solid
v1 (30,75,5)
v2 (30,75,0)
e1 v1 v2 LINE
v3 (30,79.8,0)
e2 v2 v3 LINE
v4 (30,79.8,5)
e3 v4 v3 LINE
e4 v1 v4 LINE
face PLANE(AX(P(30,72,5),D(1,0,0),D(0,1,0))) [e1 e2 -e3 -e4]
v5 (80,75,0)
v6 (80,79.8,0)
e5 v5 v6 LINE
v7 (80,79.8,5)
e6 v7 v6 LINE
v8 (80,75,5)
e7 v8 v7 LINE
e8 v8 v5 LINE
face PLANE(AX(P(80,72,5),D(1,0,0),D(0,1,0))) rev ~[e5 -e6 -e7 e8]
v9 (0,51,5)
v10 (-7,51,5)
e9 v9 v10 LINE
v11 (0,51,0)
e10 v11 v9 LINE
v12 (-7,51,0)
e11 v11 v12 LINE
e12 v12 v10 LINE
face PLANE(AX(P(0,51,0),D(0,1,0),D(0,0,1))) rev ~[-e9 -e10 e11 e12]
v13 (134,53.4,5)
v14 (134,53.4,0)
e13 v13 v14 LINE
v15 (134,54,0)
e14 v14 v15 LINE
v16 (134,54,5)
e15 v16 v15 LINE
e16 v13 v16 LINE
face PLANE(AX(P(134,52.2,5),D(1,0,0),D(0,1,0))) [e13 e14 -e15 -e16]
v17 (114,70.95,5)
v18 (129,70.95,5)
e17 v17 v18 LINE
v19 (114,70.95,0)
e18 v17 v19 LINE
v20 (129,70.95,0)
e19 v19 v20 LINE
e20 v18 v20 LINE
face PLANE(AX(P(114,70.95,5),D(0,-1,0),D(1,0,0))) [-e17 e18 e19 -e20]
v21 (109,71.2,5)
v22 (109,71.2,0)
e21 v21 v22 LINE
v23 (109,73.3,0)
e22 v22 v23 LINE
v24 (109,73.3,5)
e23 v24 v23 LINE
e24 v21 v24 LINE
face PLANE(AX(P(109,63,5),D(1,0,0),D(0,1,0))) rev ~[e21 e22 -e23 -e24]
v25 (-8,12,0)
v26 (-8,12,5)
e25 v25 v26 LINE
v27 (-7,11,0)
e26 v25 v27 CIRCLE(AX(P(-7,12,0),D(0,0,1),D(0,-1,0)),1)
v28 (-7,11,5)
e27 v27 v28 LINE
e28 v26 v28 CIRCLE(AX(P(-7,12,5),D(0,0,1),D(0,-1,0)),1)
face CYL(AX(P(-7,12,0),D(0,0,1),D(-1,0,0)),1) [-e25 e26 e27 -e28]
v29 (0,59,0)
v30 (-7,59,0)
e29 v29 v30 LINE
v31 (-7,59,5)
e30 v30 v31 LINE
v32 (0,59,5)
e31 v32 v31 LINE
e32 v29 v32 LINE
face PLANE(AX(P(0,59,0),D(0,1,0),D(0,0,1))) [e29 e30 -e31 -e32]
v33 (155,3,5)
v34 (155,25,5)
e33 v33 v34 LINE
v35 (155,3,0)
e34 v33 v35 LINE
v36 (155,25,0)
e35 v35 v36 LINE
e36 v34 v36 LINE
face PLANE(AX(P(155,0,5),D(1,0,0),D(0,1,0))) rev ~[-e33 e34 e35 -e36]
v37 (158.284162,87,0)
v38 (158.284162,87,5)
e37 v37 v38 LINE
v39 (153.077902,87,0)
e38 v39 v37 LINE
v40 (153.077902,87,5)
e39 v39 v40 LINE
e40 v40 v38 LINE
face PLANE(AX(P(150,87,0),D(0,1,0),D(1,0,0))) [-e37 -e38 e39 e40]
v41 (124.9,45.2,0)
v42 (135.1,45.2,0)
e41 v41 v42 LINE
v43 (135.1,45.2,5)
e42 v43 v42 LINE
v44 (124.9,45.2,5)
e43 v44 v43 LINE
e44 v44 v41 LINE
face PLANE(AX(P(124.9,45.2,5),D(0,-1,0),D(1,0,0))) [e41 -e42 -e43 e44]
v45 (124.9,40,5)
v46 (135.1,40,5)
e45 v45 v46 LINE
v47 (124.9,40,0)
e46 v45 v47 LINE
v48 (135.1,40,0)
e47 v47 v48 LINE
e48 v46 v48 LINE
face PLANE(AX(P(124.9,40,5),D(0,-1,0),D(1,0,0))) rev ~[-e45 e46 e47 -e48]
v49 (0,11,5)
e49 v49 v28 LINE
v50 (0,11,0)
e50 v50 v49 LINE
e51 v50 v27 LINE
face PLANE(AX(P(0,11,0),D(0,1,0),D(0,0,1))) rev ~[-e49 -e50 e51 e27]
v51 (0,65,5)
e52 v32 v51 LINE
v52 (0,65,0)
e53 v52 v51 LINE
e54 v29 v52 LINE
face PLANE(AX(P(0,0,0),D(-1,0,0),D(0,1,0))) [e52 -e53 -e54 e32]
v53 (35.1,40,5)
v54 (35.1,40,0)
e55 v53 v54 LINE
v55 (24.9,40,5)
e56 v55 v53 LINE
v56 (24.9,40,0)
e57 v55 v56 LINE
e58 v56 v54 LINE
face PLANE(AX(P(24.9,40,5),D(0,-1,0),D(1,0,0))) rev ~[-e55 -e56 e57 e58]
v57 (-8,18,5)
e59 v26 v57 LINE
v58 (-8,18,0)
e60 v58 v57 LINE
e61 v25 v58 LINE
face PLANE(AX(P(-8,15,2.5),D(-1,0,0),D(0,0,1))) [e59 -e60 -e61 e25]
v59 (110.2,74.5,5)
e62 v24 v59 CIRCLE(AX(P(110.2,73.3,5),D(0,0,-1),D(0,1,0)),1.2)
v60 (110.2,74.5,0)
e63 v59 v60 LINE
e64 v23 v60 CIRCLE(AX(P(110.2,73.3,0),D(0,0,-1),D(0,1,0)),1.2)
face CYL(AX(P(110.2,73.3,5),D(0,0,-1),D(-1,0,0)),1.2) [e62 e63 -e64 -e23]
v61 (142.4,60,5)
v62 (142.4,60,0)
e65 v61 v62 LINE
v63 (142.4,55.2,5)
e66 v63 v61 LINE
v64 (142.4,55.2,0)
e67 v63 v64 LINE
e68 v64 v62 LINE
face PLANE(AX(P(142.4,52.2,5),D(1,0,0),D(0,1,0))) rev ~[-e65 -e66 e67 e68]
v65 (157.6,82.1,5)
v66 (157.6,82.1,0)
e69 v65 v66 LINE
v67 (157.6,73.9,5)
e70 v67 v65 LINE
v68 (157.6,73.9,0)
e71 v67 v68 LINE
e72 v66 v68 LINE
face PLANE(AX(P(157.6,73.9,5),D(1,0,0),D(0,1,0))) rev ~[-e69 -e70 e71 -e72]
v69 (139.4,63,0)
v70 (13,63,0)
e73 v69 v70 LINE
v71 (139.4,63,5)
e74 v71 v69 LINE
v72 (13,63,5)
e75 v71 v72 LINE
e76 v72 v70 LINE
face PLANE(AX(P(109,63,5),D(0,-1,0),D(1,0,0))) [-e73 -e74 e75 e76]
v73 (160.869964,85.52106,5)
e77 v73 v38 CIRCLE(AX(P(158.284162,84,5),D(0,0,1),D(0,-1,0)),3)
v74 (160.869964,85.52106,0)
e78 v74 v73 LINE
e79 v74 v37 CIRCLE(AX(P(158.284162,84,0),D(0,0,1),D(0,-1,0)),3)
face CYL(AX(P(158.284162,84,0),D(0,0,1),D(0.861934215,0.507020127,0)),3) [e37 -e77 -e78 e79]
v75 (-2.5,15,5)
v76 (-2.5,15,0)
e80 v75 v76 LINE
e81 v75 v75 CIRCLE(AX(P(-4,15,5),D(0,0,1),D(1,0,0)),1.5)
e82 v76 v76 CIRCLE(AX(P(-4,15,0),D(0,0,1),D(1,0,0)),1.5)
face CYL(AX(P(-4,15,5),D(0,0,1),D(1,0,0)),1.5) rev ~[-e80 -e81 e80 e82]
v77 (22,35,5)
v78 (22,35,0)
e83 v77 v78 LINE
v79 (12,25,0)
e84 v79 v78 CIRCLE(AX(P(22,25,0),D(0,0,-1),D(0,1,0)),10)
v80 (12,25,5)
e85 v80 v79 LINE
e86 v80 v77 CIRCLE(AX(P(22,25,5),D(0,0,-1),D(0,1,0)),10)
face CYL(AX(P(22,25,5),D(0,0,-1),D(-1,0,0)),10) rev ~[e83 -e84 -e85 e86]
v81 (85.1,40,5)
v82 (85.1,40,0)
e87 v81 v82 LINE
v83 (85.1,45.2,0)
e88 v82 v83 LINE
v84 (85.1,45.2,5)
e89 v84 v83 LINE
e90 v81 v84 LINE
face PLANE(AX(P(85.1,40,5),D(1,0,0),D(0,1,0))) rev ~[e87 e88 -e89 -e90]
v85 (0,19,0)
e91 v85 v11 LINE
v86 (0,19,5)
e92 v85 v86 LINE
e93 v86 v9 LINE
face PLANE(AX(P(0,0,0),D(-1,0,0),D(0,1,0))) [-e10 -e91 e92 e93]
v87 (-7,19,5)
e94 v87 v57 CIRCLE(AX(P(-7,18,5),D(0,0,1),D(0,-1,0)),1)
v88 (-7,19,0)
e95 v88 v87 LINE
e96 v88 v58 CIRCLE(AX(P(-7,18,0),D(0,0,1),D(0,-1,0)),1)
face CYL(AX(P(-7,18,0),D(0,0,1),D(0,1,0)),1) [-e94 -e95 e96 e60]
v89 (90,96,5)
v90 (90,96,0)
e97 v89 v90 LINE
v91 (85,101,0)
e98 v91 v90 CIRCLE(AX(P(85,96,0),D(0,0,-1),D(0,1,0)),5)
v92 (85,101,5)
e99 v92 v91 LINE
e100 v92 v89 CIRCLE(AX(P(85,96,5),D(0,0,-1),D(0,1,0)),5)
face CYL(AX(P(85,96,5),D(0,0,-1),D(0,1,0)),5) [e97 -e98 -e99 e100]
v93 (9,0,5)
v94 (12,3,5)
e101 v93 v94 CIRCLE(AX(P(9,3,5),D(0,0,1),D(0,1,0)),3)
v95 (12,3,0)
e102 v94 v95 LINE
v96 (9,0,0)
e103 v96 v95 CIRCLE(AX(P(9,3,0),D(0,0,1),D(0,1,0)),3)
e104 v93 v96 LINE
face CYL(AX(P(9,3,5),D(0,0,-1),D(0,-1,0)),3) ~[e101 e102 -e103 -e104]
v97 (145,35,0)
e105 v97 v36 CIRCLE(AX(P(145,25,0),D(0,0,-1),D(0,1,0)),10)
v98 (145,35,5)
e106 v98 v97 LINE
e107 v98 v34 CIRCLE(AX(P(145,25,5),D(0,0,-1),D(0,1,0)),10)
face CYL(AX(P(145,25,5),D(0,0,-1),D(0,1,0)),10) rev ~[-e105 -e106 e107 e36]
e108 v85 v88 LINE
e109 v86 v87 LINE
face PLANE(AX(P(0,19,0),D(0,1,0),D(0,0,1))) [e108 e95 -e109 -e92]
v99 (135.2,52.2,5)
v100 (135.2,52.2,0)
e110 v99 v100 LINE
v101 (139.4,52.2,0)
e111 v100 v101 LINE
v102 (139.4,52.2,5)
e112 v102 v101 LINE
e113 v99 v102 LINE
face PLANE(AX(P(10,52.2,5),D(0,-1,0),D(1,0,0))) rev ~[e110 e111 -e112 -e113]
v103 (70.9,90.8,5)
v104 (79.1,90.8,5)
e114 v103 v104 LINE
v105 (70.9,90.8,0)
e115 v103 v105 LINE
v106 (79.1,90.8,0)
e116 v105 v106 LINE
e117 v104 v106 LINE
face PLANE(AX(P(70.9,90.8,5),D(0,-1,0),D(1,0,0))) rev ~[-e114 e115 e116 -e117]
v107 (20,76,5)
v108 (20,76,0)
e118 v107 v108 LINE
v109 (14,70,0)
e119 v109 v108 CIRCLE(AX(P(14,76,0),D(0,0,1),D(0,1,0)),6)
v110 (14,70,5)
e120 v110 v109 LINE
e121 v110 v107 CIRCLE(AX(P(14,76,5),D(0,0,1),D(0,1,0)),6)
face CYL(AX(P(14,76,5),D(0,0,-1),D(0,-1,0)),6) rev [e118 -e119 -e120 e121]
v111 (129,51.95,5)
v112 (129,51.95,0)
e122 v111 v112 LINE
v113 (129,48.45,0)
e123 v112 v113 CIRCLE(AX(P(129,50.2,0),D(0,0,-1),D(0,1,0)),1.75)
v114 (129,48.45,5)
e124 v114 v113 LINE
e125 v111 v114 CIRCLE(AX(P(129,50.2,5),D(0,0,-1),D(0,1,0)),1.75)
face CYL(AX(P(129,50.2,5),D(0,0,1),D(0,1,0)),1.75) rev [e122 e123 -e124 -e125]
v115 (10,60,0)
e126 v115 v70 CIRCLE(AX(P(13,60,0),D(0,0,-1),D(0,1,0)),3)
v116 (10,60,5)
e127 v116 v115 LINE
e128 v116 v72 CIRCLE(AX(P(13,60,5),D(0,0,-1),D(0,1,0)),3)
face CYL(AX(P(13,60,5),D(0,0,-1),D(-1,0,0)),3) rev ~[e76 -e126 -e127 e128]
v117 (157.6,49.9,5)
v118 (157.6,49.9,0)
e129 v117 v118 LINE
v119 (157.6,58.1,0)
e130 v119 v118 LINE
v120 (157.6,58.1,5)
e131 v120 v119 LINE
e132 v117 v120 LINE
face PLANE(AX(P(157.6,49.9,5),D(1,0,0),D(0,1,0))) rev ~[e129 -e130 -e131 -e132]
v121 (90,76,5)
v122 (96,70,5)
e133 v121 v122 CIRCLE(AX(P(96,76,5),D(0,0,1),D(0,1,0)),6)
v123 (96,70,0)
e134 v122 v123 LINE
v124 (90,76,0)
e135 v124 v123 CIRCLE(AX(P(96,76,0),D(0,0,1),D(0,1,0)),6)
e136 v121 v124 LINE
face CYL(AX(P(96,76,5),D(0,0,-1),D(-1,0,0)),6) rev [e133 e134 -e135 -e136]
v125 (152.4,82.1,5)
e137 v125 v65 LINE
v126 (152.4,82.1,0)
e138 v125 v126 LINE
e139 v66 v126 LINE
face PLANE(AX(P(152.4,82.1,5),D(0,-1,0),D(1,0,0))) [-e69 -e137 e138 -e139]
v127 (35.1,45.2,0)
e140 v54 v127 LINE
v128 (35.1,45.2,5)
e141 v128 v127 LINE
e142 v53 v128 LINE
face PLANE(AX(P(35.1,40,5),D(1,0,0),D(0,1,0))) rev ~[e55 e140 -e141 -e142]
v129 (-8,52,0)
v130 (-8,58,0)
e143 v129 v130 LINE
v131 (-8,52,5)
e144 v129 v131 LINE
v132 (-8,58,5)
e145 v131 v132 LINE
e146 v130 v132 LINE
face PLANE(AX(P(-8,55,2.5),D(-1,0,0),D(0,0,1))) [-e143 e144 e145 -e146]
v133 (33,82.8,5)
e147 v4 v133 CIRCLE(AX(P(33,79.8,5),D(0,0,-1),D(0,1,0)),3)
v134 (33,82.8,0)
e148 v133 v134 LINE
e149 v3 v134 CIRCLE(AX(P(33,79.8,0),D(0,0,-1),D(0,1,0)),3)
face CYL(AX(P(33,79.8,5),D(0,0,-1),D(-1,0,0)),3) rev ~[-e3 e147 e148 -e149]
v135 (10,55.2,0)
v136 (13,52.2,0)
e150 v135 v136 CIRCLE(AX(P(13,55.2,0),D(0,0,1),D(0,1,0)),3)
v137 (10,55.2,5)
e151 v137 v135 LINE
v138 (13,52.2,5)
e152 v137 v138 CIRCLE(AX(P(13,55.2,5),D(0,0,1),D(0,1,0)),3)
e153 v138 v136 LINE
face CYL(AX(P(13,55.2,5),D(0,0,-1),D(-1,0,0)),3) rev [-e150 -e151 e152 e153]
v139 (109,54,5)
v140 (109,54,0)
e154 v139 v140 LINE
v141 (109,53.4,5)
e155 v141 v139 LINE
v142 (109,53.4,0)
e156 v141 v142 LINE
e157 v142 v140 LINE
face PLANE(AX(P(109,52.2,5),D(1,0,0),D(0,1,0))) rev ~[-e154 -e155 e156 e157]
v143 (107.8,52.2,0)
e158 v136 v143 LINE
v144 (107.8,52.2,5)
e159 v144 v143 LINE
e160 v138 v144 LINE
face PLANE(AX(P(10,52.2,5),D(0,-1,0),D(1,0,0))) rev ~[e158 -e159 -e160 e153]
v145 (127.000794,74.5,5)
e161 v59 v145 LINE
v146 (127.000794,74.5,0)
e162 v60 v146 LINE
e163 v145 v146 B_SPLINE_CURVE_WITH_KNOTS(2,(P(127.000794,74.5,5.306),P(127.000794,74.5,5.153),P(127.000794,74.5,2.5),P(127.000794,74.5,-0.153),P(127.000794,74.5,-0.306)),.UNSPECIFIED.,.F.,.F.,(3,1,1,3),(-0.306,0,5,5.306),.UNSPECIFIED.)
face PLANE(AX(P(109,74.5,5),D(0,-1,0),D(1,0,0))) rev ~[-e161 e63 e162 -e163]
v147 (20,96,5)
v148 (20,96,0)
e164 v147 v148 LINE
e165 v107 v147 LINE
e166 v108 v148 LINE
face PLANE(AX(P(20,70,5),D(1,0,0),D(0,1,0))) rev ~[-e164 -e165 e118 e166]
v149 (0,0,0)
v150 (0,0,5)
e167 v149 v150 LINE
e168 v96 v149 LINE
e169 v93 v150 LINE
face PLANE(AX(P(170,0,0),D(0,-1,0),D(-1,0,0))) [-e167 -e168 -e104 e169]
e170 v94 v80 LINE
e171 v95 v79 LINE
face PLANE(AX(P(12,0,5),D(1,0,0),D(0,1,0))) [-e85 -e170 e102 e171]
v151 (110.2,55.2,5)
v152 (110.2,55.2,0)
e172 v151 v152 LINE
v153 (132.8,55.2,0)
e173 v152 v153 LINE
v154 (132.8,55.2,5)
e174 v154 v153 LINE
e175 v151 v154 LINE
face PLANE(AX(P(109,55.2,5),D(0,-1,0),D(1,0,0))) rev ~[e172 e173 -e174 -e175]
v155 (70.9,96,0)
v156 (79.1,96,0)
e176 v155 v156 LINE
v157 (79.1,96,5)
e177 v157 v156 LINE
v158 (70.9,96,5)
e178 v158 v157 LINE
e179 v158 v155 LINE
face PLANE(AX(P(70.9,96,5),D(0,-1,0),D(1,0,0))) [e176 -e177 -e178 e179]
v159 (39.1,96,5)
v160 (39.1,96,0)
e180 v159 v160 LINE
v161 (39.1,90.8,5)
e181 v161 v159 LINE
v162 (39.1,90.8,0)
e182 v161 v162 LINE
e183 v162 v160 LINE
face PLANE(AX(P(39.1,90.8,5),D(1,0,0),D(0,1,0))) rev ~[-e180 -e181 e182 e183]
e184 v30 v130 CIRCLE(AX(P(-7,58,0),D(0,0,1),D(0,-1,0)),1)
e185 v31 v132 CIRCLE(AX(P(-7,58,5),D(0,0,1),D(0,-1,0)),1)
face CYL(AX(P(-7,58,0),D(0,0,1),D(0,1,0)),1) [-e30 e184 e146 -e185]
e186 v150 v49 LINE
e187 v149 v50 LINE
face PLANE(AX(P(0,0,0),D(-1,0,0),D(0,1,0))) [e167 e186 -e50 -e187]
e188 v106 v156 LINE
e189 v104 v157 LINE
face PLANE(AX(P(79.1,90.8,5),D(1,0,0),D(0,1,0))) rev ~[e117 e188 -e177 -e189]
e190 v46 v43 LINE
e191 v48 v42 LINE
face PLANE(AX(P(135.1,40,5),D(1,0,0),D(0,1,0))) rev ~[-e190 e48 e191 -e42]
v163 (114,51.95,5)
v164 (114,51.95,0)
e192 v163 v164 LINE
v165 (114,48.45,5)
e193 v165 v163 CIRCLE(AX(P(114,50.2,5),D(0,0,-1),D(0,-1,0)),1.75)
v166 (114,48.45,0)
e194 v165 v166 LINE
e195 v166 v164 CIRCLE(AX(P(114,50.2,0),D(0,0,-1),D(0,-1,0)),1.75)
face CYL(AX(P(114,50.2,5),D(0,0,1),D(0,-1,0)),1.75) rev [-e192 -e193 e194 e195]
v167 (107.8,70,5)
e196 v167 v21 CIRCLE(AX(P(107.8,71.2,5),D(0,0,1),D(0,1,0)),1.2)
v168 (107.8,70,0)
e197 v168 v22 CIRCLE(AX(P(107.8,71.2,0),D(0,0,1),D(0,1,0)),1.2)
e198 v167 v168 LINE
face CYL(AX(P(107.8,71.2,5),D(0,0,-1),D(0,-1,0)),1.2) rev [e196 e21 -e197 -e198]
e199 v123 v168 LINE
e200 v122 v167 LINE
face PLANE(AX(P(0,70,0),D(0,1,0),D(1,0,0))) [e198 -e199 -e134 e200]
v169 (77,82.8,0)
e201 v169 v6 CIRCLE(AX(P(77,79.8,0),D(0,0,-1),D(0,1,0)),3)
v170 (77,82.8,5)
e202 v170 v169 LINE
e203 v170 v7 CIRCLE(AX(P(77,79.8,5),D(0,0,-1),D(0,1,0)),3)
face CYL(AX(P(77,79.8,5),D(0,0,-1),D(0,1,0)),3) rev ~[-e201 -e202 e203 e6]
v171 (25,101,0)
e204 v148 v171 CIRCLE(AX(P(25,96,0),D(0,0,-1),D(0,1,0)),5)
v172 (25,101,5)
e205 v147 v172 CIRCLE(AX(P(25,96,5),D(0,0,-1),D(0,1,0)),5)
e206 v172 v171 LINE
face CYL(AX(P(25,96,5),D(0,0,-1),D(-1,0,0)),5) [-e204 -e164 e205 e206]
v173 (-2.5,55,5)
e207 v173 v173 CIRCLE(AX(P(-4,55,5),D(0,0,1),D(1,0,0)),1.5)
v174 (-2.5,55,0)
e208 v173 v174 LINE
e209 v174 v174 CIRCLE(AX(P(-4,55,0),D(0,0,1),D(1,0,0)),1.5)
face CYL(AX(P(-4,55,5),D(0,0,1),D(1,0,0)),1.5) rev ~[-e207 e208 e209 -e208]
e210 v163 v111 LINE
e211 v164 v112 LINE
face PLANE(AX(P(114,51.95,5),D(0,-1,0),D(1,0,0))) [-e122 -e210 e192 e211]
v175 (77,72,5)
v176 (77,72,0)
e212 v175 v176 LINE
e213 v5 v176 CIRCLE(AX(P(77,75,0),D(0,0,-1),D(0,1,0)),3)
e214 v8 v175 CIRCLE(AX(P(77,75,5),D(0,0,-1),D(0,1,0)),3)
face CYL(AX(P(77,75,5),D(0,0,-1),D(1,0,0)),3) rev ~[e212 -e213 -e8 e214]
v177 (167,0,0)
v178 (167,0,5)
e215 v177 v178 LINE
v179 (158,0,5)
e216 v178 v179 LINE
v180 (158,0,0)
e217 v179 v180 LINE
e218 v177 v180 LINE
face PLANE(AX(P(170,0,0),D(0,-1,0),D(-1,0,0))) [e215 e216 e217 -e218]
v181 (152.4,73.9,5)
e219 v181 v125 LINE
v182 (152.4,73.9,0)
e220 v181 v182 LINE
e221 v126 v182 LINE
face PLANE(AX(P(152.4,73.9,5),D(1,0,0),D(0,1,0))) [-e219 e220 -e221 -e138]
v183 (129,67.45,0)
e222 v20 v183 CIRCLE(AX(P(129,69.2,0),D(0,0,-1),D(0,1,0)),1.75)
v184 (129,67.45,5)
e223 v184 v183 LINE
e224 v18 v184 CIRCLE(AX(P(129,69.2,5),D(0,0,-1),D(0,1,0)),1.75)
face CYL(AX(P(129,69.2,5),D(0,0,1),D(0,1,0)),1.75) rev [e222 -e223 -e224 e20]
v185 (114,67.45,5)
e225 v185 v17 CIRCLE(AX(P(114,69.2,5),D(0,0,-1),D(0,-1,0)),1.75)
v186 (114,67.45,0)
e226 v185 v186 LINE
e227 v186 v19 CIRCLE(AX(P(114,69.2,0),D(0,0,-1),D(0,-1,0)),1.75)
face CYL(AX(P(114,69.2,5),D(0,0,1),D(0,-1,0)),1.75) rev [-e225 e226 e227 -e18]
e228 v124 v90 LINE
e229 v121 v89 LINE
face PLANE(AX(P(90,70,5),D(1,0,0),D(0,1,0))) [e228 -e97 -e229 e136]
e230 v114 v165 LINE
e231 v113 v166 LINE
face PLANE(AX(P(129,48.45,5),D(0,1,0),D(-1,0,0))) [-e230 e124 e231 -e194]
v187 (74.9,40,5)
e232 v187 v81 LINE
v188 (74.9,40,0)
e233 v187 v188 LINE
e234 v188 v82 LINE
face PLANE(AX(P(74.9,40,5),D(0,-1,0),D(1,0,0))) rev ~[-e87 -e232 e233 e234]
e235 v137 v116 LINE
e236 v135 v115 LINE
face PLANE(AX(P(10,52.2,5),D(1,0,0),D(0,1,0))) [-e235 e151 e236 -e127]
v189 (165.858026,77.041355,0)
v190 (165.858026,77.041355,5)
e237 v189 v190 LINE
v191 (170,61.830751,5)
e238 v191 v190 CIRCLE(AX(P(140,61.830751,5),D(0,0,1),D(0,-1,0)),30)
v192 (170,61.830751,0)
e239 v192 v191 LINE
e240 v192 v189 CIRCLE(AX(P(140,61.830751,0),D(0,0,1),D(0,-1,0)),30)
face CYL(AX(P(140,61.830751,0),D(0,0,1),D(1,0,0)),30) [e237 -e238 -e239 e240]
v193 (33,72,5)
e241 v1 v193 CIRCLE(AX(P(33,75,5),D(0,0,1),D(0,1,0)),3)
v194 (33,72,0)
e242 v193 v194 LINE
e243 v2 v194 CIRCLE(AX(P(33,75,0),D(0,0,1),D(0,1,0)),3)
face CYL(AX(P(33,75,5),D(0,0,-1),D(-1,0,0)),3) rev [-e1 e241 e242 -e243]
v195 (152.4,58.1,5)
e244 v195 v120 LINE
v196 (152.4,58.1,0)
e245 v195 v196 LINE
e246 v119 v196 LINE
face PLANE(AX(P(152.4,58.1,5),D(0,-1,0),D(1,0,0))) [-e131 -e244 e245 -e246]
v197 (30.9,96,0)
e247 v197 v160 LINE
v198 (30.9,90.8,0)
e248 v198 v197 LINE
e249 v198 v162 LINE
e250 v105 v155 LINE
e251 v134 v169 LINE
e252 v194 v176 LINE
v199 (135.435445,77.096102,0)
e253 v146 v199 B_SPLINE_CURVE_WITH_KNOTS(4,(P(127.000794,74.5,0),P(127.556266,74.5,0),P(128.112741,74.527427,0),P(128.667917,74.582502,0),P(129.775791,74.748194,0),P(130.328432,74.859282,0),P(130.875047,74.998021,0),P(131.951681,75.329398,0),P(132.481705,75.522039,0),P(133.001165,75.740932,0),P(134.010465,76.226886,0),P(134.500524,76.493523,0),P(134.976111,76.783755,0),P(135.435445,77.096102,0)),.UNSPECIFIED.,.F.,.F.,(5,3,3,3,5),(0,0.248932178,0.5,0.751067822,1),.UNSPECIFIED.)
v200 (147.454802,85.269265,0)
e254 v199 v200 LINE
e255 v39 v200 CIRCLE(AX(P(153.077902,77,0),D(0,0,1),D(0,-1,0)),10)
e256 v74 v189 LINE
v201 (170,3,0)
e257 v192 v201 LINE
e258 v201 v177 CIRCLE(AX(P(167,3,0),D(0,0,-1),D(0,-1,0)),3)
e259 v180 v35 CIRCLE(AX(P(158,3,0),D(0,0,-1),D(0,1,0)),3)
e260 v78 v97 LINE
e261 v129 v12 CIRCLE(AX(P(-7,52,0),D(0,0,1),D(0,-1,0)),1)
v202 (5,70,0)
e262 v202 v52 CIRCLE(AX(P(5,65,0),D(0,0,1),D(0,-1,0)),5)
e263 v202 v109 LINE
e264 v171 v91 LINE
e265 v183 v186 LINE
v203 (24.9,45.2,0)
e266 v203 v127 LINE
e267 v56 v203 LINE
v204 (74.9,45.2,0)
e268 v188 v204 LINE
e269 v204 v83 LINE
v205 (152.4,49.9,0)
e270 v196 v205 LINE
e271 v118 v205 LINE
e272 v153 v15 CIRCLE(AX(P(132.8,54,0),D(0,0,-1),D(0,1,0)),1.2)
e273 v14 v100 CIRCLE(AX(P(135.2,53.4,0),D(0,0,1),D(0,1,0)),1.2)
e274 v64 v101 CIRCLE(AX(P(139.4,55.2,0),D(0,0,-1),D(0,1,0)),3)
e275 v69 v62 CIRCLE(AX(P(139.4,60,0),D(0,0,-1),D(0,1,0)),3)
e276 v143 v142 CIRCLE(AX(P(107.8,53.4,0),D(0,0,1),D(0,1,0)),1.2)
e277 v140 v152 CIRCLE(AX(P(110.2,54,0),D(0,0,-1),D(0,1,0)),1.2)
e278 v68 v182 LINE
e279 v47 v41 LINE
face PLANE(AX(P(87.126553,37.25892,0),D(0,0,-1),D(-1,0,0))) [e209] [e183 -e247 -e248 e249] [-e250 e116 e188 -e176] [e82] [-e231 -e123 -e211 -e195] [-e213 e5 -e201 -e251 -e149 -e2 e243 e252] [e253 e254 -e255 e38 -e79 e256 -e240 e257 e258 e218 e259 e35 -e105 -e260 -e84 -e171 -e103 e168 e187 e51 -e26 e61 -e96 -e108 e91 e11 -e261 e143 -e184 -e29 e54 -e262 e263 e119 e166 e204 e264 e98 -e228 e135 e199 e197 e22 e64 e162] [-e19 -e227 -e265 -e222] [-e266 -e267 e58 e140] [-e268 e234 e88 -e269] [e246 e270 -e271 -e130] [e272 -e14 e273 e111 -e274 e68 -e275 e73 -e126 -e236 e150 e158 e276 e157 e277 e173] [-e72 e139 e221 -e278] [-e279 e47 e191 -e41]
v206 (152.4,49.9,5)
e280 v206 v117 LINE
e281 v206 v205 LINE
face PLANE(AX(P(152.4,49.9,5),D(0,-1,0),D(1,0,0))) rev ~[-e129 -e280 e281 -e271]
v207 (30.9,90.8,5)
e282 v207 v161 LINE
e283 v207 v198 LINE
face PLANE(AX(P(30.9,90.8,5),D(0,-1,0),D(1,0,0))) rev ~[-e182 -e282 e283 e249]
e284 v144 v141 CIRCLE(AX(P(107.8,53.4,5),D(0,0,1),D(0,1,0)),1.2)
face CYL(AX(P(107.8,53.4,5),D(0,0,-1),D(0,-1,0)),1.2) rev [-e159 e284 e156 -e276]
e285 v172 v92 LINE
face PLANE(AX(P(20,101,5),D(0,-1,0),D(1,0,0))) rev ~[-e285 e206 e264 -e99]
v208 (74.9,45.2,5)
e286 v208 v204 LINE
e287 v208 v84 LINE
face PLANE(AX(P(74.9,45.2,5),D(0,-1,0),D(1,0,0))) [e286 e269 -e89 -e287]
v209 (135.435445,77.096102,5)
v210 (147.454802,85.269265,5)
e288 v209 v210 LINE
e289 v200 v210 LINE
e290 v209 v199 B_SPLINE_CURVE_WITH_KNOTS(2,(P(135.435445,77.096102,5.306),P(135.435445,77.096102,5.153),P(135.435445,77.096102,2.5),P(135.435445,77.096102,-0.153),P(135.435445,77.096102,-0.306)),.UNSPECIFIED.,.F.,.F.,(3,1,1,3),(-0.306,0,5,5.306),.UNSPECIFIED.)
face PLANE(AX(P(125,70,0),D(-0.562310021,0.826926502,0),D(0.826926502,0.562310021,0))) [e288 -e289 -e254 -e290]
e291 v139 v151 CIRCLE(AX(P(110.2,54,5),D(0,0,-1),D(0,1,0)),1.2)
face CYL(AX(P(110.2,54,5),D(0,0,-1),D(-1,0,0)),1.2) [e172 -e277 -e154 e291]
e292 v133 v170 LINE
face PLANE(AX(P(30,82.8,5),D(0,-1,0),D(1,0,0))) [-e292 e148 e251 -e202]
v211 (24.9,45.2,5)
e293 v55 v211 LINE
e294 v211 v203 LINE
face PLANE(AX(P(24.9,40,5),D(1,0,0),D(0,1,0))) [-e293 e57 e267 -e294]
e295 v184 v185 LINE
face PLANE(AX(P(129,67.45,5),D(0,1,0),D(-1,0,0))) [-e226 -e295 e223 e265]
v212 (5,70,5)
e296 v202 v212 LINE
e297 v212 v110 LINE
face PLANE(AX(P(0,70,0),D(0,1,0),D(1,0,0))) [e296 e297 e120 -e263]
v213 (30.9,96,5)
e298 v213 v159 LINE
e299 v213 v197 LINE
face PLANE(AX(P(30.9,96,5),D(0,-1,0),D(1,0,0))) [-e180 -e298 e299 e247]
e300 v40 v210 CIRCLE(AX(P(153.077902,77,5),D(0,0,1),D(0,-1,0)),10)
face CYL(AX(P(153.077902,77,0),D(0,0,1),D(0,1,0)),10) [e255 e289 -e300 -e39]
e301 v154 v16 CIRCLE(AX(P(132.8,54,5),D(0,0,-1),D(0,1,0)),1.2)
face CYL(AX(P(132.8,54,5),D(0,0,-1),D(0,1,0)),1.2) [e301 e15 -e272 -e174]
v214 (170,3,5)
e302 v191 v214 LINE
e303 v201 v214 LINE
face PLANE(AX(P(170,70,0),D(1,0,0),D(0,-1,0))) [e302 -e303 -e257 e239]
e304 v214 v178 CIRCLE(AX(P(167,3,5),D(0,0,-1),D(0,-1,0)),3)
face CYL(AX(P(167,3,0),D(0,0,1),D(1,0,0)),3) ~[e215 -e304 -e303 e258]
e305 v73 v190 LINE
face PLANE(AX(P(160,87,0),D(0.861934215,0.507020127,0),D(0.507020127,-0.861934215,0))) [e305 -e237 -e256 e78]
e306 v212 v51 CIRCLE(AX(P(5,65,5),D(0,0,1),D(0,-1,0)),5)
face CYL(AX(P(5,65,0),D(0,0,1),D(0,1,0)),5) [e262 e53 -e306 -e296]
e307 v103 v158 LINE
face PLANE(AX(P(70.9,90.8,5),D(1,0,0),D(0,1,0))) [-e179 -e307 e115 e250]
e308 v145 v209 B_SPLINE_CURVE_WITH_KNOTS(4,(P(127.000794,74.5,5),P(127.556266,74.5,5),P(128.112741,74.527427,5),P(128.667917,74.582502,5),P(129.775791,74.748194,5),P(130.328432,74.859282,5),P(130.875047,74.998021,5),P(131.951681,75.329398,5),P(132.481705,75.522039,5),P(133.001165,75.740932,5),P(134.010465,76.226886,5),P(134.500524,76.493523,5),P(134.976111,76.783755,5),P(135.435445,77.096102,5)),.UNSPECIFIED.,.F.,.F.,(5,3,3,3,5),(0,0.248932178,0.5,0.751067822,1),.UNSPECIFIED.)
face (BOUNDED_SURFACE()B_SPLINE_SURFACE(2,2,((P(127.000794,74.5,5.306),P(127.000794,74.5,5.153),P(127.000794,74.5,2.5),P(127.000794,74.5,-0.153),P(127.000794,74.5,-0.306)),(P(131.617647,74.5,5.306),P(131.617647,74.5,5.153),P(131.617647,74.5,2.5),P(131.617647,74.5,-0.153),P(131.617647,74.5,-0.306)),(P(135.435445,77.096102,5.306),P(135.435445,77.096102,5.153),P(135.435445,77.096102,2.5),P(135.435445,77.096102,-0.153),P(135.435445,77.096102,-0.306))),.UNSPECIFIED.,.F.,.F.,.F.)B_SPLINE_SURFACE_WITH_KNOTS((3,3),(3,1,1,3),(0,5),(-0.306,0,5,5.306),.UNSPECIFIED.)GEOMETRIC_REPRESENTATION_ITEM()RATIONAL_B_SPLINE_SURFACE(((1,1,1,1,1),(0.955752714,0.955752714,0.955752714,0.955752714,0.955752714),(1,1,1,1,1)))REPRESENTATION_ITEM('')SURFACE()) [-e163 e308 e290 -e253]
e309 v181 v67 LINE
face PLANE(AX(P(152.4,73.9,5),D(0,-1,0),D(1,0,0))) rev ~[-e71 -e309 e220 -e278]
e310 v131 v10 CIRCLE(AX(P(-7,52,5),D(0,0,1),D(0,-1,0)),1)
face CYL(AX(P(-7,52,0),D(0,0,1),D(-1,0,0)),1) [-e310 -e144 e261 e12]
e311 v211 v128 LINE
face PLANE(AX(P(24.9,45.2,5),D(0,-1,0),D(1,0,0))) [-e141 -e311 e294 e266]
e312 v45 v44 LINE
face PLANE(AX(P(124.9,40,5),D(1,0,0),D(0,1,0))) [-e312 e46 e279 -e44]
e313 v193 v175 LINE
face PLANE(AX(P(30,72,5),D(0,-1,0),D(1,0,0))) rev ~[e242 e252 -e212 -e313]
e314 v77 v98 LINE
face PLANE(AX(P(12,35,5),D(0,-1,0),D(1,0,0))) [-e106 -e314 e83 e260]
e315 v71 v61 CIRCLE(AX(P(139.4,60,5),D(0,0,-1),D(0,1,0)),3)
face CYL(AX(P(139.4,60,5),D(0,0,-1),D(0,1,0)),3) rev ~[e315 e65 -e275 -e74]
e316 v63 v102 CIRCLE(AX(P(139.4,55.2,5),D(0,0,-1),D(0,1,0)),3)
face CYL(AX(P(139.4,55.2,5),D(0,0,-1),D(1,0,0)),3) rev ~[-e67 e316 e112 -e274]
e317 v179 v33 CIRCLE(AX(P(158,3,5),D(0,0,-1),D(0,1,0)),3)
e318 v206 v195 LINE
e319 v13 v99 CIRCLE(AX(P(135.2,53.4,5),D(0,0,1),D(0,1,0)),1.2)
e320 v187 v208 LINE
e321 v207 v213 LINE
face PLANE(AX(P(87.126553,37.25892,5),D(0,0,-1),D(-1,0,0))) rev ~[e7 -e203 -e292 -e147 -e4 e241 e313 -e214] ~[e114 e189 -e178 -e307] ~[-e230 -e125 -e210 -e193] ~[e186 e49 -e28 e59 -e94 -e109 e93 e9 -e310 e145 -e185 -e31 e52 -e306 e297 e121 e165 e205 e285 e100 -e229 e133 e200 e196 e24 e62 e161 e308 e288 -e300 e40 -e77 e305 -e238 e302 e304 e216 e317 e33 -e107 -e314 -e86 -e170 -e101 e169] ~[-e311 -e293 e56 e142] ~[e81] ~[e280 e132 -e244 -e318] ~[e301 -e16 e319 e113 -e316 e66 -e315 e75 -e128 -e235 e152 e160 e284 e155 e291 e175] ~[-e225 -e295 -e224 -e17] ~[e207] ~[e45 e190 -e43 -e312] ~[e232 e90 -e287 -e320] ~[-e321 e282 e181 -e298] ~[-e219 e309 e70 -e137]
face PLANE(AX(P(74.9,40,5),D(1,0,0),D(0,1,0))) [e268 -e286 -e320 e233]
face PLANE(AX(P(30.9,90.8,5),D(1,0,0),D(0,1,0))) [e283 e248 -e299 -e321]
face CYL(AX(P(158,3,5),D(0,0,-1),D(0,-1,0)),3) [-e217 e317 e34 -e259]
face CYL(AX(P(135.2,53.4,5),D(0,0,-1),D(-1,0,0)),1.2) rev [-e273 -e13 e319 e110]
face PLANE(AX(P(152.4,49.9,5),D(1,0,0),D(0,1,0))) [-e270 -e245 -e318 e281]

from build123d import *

# Parameters (mm, degrees)
SALIENTE_EXTRUIR1_DEPTH = 5
CROQUIS2_W              = 143
CROQUIS2_H              = 35
CORTAR_EXTRUIR1_DEPTH   = 5
REDONDEO1_R             = 10
CROQUIS3_W              = 5
CROQUIS3_H              = 8
SALIENTE_EXTRUIR2_DEPTH = 8
REDONDEO2_R             = 30
REDONDEO3_R             = 3
CROQUIS4_W              = 5.2
CROQUIS4_H              = 8.2
CORTAR_EXTRUIR2_DEPTH   = 192.034028382
REDONDEO4_R             = 3
REDONDEO5_R             = 10
REDONDEO6_R             = 1
CROQUIS5_R              = 1.5
CORTAR_EXTRUIR3_DEPTH   = 5
CROQUIS6_W              = 10.2
CROQUIS6_H              = 5.2
CORTAR_EXTRUIR4_DEPTH   = 5
CROQUIS7_W              = 132.4
CROQUIS7_H              = 10.8
CORTAR_EXTRUIR5_DEPTH   = 5
CROQUIS8_W              = 70
CROQUIS8_H              = 31
SALIENTE_EXTRUIR3_DEPTH = 5
CROQUIS9_W              = 8.2
CROQUIS9_H              = 5.2
CORTAR_EXTRUIR6_DEPTH   = 5
CROQUIS10_W             = 50
CROQUIS10_H             = 10.8
CORTAR_EXTRUIR7_DEPTH   = 5
REDONDEO9_R             = 3
REDONDEO10_R            = 6
REDONDEO11_R            = 5
REDONDEO12_R            = 5
CROQUIS12_W             = 22.569775484
CROQUIS12_H             = 11.5
CROQUIS12_W_2           = 25
CROQUIS12_H_2           = 3
SALIENTE_EXTRUIR4_DEPTH = 5
CORTAR_EXTRUIR8_DEPTH   = 5
REDONDEO8_R             = 3
REDONDEO13_R            = 1.2
REDONDEO14_R            = 15


with BuildPart() as part:
    # Croquis1 → Saliente-Extruir1 (new body)
    with BuildSketch(Plane.XY):
        Polygon((0, 0), (0, 70), (125, 70), (150, 87), (160, 87), (170, 70), (170, 0), align=None)
    extrude(amount=SALIENTE_EXTRUIR1_DEPTH)

    # Croquis2 → Cortar-Extruir1 (cut)
    with BuildSketch(Plane.XY.offset(5)):
        with Locations((83.5, 17.5)):
            Rectangle(CROQUIS2_W, CROQUIS2_H)
    extrude(amount=-CORTAR_EXTRUIR1_DEPTH, mode=Mode.SUBTRACT)

    # Redondeo1
    redondeo1_edges = [part.edges().sort_by_distance(p)[0] for p in [
        (12, 35, 2.5),
        (155, 35, 2.5),
    ]]
    fillet(redondeo1_edges, radius=REDONDEO1_R)

    # Croquis3 → Saliente-Extruir2 (add)
    with BuildSketch(Plane.ZY):
        with Locations((2.5, 15)):
            Rectangle(CROQUIS3_W, CROQUIS3_H)
        with Locations((2.5, 55)):
            Rectangle(CROQUIS3_W, CROQUIS3_H)
    extrude(amount=SALIENTE_EXTRUIR2_DEPTH)

    # Redondeo2
    redondeo2_edges = [part.edges().sort_by_distance(p)[0] for p in [
        (125, 70, 2.5),
        (170, 70, 2.5),
    ]]
    fillet(redondeo2_edges, radius=REDONDEO2_R)

    # Redondeo3
    redondeo3_edges = [part.edges().sort_by_distance(p)[0] for p in [
        (170, 0, 2.5),
        (12, 0, 2.5),
        (155, 0, 2.5),
    ]]
    fillet(redondeo3_edges, radius=REDONDEO3_R)

    # Croquis4 → Cortar-Extruir2 (cut, through all)
    with BuildSketch(Plane.XY.offset(5)):
        with Locations((155, 78)):
            Rectangle(CROQUIS4_W, CROQUIS4_H)
        with Locations((155, 54)):
            Rectangle(CROQUIS4_W, CROQUIS4_H)
    extrude(amount=-CORTAR_EXTRUIR2_DEPTH, mode=Mode.SUBTRACT)

    # Redondeo4
    redondeo4_edges = [part.edges().sort_by_distance(p)[0] for p in [
        (160, 87, 2.5),
    ]]
    fillet(redondeo4_edges, radius=REDONDEO4_R)

    # Redondeo5
    redondeo5_edges = [part.edges().sort_by_distance(p)[0] for p in [
        (150, 87, 2.5),
    ]]
    fillet(redondeo5_edges, radius=REDONDEO5_R)

    # Redondeo6
    redondeo6_edges = [part.edges().sort_by_distance(p)[0] for p in [
        (-8, 19, 2.5),
        (-8, 11, 2.5),
        (-8, 59, 2.5),
        (-8, 51, 2.5),
    ]]
    fillet(redondeo6_edges, radius=REDONDEO6_R)

    # Croquis5 → Cortar-Extruir3 (cut)
    with BuildSketch(Plane.XY.offset(5)):
        with Locations((-4, 55)):
            Circle(CROQUIS5_R)
        with Locations((-4, 15)):
            Circle(CROQUIS5_R)
    extrude(amount=-CORTAR_EXTRUIR3_DEPTH, mode=Mode.SUBTRACT)

    # Croquis6 → Cortar-Extruir4 (cut)
    with BuildSketch(Plane.XY.offset(5)):
        with Locations((80, 42.6)):
            Rectangle(CROQUIS6_W, CROQUIS6_H)
        with Locations((30, 42.6)):
            Rectangle(CROQUIS6_W, CROQUIS6_H)
        with Locations((130, 42.6)):
            Rectangle(CROQUIS6_W, CROQUIS6_H)
    extrude(amount=-CORTAR_EXTRUIR4_DEPTH, mode=Mode.SUBTRACT)

    # Croquis7 → Cortar-Extruir5 (cut)
    with BuildSketch(Plane.XY.offset(5)):
        with Locations((76.2, 57.6)):
            Rectangle(CROQUIS7_W, CROQUIS7_H)
    extrude(amount=-CORTAR_EXTRUIR5_DEPTH, mode=Mode.SUBTRACT)

    # Croquis8 → Saliente-Extruir3 (add)
    with BuildSketch(Plane.XY.offset(5)):
        with Locations((55, 85.5)):
            Rectangle(CROQUIS8_W, CROQUIS8_H)
    extrude(amount=-SALIENTE_EXTRUIR3_DEPTH)

    # Croquis9 → Cortar-Extruir6 (cut)
    with BuildSketch(Plane.XY.offset(5)):
        with Locations((35, 93.4)):
            Rectangle(CROQUIS9_W, CROQUIS9_H)
        with Locations((75, 93.4)):
            Rectangle(CROQUIS9_W, CROQUIS9_H)
    extrude(amount=-CORTAR_EXTRUIR6_DEPTH, mode=Mode.SUBTRACT)

    # Croquis10 → Cortar-Extruir7 (cut)
    with BuildSketch(Plane.XY.offset(5)):
        with Locations((55, 77.4)):
            Rectangle(CROQUIS10_W, CROQUIS10_H)
    extrude(amount=-CORTAR_EXTRUIR7_DEPTH, mode=Mode.SUBTRACT)

    # Redondeo9
    redondeo9_edges = [part.edges().sort_by_distance(p)[0] for p in [
        (30, 72, 2.5),
        (30, 82.8, 2.5),
        (80, 82.8, 2.5),
        (80, 72, 2.5),
    ]]
    fillet(redondeo9_edges, radius=REDONDEO9_R)

    # Redondeo10
    redondeo10_edges = [part.edges().sort_by_distance(p)[0] for p in [
        (20, 70, 2.5),
        (90, 70, 2.5),
    ]]
    fillet(redondeo10_edges, radius=REDONDEO10_R)

    # Redondeo11
    redondeo11_edges = [part.edges().sort_by_distance(p)[0] for p in [
        (20, 101, 2.5),
        (90, 101, 2.5),
    ]]
    fillet(redondeo11_edges, radius=REDONDEO11_R)

    # Redondeo12
    redondeo12_edges = [part.edges().sort_by_distance(p)[0] for p in [
        (0, 70, 2.5),
    ]]
    fillet(redondeo12_edges, radius=REDONDEO12_R)

    # Croquis12 → Saliente-Extruir4 (add)
    with BuildSketch(Plane.XY.offset(5)):
        with Locations((120.284887742, 68.75)):
            Rectangle(CROQUIS12_W, CROQUIS12_H)
        with Locations((121.5, 53.7)):
            Rectangle(CROQUIS12_W_2, CROQUIS12_H_2)
    extrude(amount=-SALIENTE_EXTRUIR4_DEPTH)

    # Croquis11 → Cortar-Extruir8 (cut)
    with BuildSketch(Plane.XY.offset(5)):
        with BuildLine():
            Line((129, 48.45), (114, 48.45))
            ThreePointArc((114, 48.45), (112.25, 50.2), (114, 51.95))
            Line((114, 51.95), (129, 51.95))
            ThreePointArc((129, 51.95), (130.75, 50.2), (129, 48.45))
        make_face()
        with BuildLine():
            Line((129, 67.45), (114, 67.45))
            ThreePointArc((114, 67.45), (112.25, 69.2), (114, 70.95))
            Line((114, 70.95), (129, 70.95))
            ThreePointArc((129, 70.95), (130.75, 69.2), (129, 67.45))
        make_face()
    extrude(amount=-CORTAR_EXTRUIR8_DEPTH, mode=Mode.SUBTRACT)

    # Redondeo8
    redondeo8_edges = [part.edges().sort_by_distance(p)[0] for p in [
        (10, 52.2, 2.5),
        (10, 63, 2.5),
        (142.4, 63, 2.5),
        (142.4, 52.2, 2.5),
    ]]
    fillet(redondeo8_edges, radius=REDONDEO8_R)

    # Redondeo13
    redondeo13_edges = [part.edges().sort_by_distance(p)[0] for p in [
        (109, 70, 2.5),
        (109, 74.5, 2.5),
        (134, 55.2, 2.5),
        (134, 52.2, 2.5),
        (109, 52.2, 2.5),
        (109, 55.2, 2.5),
    ]]
    fillet(redondeo13_edges, radius=REDONDEO13_R)

    # Redondeo14
    redondeo14_edges = [part.edges().sort_by_distance(p)[0] for p in [
        (131.569775484, 74.5, 2.5),
    ]]
    fillet(redondeo14_edges, radius=REDONDEO14_R)


solid = part.part
